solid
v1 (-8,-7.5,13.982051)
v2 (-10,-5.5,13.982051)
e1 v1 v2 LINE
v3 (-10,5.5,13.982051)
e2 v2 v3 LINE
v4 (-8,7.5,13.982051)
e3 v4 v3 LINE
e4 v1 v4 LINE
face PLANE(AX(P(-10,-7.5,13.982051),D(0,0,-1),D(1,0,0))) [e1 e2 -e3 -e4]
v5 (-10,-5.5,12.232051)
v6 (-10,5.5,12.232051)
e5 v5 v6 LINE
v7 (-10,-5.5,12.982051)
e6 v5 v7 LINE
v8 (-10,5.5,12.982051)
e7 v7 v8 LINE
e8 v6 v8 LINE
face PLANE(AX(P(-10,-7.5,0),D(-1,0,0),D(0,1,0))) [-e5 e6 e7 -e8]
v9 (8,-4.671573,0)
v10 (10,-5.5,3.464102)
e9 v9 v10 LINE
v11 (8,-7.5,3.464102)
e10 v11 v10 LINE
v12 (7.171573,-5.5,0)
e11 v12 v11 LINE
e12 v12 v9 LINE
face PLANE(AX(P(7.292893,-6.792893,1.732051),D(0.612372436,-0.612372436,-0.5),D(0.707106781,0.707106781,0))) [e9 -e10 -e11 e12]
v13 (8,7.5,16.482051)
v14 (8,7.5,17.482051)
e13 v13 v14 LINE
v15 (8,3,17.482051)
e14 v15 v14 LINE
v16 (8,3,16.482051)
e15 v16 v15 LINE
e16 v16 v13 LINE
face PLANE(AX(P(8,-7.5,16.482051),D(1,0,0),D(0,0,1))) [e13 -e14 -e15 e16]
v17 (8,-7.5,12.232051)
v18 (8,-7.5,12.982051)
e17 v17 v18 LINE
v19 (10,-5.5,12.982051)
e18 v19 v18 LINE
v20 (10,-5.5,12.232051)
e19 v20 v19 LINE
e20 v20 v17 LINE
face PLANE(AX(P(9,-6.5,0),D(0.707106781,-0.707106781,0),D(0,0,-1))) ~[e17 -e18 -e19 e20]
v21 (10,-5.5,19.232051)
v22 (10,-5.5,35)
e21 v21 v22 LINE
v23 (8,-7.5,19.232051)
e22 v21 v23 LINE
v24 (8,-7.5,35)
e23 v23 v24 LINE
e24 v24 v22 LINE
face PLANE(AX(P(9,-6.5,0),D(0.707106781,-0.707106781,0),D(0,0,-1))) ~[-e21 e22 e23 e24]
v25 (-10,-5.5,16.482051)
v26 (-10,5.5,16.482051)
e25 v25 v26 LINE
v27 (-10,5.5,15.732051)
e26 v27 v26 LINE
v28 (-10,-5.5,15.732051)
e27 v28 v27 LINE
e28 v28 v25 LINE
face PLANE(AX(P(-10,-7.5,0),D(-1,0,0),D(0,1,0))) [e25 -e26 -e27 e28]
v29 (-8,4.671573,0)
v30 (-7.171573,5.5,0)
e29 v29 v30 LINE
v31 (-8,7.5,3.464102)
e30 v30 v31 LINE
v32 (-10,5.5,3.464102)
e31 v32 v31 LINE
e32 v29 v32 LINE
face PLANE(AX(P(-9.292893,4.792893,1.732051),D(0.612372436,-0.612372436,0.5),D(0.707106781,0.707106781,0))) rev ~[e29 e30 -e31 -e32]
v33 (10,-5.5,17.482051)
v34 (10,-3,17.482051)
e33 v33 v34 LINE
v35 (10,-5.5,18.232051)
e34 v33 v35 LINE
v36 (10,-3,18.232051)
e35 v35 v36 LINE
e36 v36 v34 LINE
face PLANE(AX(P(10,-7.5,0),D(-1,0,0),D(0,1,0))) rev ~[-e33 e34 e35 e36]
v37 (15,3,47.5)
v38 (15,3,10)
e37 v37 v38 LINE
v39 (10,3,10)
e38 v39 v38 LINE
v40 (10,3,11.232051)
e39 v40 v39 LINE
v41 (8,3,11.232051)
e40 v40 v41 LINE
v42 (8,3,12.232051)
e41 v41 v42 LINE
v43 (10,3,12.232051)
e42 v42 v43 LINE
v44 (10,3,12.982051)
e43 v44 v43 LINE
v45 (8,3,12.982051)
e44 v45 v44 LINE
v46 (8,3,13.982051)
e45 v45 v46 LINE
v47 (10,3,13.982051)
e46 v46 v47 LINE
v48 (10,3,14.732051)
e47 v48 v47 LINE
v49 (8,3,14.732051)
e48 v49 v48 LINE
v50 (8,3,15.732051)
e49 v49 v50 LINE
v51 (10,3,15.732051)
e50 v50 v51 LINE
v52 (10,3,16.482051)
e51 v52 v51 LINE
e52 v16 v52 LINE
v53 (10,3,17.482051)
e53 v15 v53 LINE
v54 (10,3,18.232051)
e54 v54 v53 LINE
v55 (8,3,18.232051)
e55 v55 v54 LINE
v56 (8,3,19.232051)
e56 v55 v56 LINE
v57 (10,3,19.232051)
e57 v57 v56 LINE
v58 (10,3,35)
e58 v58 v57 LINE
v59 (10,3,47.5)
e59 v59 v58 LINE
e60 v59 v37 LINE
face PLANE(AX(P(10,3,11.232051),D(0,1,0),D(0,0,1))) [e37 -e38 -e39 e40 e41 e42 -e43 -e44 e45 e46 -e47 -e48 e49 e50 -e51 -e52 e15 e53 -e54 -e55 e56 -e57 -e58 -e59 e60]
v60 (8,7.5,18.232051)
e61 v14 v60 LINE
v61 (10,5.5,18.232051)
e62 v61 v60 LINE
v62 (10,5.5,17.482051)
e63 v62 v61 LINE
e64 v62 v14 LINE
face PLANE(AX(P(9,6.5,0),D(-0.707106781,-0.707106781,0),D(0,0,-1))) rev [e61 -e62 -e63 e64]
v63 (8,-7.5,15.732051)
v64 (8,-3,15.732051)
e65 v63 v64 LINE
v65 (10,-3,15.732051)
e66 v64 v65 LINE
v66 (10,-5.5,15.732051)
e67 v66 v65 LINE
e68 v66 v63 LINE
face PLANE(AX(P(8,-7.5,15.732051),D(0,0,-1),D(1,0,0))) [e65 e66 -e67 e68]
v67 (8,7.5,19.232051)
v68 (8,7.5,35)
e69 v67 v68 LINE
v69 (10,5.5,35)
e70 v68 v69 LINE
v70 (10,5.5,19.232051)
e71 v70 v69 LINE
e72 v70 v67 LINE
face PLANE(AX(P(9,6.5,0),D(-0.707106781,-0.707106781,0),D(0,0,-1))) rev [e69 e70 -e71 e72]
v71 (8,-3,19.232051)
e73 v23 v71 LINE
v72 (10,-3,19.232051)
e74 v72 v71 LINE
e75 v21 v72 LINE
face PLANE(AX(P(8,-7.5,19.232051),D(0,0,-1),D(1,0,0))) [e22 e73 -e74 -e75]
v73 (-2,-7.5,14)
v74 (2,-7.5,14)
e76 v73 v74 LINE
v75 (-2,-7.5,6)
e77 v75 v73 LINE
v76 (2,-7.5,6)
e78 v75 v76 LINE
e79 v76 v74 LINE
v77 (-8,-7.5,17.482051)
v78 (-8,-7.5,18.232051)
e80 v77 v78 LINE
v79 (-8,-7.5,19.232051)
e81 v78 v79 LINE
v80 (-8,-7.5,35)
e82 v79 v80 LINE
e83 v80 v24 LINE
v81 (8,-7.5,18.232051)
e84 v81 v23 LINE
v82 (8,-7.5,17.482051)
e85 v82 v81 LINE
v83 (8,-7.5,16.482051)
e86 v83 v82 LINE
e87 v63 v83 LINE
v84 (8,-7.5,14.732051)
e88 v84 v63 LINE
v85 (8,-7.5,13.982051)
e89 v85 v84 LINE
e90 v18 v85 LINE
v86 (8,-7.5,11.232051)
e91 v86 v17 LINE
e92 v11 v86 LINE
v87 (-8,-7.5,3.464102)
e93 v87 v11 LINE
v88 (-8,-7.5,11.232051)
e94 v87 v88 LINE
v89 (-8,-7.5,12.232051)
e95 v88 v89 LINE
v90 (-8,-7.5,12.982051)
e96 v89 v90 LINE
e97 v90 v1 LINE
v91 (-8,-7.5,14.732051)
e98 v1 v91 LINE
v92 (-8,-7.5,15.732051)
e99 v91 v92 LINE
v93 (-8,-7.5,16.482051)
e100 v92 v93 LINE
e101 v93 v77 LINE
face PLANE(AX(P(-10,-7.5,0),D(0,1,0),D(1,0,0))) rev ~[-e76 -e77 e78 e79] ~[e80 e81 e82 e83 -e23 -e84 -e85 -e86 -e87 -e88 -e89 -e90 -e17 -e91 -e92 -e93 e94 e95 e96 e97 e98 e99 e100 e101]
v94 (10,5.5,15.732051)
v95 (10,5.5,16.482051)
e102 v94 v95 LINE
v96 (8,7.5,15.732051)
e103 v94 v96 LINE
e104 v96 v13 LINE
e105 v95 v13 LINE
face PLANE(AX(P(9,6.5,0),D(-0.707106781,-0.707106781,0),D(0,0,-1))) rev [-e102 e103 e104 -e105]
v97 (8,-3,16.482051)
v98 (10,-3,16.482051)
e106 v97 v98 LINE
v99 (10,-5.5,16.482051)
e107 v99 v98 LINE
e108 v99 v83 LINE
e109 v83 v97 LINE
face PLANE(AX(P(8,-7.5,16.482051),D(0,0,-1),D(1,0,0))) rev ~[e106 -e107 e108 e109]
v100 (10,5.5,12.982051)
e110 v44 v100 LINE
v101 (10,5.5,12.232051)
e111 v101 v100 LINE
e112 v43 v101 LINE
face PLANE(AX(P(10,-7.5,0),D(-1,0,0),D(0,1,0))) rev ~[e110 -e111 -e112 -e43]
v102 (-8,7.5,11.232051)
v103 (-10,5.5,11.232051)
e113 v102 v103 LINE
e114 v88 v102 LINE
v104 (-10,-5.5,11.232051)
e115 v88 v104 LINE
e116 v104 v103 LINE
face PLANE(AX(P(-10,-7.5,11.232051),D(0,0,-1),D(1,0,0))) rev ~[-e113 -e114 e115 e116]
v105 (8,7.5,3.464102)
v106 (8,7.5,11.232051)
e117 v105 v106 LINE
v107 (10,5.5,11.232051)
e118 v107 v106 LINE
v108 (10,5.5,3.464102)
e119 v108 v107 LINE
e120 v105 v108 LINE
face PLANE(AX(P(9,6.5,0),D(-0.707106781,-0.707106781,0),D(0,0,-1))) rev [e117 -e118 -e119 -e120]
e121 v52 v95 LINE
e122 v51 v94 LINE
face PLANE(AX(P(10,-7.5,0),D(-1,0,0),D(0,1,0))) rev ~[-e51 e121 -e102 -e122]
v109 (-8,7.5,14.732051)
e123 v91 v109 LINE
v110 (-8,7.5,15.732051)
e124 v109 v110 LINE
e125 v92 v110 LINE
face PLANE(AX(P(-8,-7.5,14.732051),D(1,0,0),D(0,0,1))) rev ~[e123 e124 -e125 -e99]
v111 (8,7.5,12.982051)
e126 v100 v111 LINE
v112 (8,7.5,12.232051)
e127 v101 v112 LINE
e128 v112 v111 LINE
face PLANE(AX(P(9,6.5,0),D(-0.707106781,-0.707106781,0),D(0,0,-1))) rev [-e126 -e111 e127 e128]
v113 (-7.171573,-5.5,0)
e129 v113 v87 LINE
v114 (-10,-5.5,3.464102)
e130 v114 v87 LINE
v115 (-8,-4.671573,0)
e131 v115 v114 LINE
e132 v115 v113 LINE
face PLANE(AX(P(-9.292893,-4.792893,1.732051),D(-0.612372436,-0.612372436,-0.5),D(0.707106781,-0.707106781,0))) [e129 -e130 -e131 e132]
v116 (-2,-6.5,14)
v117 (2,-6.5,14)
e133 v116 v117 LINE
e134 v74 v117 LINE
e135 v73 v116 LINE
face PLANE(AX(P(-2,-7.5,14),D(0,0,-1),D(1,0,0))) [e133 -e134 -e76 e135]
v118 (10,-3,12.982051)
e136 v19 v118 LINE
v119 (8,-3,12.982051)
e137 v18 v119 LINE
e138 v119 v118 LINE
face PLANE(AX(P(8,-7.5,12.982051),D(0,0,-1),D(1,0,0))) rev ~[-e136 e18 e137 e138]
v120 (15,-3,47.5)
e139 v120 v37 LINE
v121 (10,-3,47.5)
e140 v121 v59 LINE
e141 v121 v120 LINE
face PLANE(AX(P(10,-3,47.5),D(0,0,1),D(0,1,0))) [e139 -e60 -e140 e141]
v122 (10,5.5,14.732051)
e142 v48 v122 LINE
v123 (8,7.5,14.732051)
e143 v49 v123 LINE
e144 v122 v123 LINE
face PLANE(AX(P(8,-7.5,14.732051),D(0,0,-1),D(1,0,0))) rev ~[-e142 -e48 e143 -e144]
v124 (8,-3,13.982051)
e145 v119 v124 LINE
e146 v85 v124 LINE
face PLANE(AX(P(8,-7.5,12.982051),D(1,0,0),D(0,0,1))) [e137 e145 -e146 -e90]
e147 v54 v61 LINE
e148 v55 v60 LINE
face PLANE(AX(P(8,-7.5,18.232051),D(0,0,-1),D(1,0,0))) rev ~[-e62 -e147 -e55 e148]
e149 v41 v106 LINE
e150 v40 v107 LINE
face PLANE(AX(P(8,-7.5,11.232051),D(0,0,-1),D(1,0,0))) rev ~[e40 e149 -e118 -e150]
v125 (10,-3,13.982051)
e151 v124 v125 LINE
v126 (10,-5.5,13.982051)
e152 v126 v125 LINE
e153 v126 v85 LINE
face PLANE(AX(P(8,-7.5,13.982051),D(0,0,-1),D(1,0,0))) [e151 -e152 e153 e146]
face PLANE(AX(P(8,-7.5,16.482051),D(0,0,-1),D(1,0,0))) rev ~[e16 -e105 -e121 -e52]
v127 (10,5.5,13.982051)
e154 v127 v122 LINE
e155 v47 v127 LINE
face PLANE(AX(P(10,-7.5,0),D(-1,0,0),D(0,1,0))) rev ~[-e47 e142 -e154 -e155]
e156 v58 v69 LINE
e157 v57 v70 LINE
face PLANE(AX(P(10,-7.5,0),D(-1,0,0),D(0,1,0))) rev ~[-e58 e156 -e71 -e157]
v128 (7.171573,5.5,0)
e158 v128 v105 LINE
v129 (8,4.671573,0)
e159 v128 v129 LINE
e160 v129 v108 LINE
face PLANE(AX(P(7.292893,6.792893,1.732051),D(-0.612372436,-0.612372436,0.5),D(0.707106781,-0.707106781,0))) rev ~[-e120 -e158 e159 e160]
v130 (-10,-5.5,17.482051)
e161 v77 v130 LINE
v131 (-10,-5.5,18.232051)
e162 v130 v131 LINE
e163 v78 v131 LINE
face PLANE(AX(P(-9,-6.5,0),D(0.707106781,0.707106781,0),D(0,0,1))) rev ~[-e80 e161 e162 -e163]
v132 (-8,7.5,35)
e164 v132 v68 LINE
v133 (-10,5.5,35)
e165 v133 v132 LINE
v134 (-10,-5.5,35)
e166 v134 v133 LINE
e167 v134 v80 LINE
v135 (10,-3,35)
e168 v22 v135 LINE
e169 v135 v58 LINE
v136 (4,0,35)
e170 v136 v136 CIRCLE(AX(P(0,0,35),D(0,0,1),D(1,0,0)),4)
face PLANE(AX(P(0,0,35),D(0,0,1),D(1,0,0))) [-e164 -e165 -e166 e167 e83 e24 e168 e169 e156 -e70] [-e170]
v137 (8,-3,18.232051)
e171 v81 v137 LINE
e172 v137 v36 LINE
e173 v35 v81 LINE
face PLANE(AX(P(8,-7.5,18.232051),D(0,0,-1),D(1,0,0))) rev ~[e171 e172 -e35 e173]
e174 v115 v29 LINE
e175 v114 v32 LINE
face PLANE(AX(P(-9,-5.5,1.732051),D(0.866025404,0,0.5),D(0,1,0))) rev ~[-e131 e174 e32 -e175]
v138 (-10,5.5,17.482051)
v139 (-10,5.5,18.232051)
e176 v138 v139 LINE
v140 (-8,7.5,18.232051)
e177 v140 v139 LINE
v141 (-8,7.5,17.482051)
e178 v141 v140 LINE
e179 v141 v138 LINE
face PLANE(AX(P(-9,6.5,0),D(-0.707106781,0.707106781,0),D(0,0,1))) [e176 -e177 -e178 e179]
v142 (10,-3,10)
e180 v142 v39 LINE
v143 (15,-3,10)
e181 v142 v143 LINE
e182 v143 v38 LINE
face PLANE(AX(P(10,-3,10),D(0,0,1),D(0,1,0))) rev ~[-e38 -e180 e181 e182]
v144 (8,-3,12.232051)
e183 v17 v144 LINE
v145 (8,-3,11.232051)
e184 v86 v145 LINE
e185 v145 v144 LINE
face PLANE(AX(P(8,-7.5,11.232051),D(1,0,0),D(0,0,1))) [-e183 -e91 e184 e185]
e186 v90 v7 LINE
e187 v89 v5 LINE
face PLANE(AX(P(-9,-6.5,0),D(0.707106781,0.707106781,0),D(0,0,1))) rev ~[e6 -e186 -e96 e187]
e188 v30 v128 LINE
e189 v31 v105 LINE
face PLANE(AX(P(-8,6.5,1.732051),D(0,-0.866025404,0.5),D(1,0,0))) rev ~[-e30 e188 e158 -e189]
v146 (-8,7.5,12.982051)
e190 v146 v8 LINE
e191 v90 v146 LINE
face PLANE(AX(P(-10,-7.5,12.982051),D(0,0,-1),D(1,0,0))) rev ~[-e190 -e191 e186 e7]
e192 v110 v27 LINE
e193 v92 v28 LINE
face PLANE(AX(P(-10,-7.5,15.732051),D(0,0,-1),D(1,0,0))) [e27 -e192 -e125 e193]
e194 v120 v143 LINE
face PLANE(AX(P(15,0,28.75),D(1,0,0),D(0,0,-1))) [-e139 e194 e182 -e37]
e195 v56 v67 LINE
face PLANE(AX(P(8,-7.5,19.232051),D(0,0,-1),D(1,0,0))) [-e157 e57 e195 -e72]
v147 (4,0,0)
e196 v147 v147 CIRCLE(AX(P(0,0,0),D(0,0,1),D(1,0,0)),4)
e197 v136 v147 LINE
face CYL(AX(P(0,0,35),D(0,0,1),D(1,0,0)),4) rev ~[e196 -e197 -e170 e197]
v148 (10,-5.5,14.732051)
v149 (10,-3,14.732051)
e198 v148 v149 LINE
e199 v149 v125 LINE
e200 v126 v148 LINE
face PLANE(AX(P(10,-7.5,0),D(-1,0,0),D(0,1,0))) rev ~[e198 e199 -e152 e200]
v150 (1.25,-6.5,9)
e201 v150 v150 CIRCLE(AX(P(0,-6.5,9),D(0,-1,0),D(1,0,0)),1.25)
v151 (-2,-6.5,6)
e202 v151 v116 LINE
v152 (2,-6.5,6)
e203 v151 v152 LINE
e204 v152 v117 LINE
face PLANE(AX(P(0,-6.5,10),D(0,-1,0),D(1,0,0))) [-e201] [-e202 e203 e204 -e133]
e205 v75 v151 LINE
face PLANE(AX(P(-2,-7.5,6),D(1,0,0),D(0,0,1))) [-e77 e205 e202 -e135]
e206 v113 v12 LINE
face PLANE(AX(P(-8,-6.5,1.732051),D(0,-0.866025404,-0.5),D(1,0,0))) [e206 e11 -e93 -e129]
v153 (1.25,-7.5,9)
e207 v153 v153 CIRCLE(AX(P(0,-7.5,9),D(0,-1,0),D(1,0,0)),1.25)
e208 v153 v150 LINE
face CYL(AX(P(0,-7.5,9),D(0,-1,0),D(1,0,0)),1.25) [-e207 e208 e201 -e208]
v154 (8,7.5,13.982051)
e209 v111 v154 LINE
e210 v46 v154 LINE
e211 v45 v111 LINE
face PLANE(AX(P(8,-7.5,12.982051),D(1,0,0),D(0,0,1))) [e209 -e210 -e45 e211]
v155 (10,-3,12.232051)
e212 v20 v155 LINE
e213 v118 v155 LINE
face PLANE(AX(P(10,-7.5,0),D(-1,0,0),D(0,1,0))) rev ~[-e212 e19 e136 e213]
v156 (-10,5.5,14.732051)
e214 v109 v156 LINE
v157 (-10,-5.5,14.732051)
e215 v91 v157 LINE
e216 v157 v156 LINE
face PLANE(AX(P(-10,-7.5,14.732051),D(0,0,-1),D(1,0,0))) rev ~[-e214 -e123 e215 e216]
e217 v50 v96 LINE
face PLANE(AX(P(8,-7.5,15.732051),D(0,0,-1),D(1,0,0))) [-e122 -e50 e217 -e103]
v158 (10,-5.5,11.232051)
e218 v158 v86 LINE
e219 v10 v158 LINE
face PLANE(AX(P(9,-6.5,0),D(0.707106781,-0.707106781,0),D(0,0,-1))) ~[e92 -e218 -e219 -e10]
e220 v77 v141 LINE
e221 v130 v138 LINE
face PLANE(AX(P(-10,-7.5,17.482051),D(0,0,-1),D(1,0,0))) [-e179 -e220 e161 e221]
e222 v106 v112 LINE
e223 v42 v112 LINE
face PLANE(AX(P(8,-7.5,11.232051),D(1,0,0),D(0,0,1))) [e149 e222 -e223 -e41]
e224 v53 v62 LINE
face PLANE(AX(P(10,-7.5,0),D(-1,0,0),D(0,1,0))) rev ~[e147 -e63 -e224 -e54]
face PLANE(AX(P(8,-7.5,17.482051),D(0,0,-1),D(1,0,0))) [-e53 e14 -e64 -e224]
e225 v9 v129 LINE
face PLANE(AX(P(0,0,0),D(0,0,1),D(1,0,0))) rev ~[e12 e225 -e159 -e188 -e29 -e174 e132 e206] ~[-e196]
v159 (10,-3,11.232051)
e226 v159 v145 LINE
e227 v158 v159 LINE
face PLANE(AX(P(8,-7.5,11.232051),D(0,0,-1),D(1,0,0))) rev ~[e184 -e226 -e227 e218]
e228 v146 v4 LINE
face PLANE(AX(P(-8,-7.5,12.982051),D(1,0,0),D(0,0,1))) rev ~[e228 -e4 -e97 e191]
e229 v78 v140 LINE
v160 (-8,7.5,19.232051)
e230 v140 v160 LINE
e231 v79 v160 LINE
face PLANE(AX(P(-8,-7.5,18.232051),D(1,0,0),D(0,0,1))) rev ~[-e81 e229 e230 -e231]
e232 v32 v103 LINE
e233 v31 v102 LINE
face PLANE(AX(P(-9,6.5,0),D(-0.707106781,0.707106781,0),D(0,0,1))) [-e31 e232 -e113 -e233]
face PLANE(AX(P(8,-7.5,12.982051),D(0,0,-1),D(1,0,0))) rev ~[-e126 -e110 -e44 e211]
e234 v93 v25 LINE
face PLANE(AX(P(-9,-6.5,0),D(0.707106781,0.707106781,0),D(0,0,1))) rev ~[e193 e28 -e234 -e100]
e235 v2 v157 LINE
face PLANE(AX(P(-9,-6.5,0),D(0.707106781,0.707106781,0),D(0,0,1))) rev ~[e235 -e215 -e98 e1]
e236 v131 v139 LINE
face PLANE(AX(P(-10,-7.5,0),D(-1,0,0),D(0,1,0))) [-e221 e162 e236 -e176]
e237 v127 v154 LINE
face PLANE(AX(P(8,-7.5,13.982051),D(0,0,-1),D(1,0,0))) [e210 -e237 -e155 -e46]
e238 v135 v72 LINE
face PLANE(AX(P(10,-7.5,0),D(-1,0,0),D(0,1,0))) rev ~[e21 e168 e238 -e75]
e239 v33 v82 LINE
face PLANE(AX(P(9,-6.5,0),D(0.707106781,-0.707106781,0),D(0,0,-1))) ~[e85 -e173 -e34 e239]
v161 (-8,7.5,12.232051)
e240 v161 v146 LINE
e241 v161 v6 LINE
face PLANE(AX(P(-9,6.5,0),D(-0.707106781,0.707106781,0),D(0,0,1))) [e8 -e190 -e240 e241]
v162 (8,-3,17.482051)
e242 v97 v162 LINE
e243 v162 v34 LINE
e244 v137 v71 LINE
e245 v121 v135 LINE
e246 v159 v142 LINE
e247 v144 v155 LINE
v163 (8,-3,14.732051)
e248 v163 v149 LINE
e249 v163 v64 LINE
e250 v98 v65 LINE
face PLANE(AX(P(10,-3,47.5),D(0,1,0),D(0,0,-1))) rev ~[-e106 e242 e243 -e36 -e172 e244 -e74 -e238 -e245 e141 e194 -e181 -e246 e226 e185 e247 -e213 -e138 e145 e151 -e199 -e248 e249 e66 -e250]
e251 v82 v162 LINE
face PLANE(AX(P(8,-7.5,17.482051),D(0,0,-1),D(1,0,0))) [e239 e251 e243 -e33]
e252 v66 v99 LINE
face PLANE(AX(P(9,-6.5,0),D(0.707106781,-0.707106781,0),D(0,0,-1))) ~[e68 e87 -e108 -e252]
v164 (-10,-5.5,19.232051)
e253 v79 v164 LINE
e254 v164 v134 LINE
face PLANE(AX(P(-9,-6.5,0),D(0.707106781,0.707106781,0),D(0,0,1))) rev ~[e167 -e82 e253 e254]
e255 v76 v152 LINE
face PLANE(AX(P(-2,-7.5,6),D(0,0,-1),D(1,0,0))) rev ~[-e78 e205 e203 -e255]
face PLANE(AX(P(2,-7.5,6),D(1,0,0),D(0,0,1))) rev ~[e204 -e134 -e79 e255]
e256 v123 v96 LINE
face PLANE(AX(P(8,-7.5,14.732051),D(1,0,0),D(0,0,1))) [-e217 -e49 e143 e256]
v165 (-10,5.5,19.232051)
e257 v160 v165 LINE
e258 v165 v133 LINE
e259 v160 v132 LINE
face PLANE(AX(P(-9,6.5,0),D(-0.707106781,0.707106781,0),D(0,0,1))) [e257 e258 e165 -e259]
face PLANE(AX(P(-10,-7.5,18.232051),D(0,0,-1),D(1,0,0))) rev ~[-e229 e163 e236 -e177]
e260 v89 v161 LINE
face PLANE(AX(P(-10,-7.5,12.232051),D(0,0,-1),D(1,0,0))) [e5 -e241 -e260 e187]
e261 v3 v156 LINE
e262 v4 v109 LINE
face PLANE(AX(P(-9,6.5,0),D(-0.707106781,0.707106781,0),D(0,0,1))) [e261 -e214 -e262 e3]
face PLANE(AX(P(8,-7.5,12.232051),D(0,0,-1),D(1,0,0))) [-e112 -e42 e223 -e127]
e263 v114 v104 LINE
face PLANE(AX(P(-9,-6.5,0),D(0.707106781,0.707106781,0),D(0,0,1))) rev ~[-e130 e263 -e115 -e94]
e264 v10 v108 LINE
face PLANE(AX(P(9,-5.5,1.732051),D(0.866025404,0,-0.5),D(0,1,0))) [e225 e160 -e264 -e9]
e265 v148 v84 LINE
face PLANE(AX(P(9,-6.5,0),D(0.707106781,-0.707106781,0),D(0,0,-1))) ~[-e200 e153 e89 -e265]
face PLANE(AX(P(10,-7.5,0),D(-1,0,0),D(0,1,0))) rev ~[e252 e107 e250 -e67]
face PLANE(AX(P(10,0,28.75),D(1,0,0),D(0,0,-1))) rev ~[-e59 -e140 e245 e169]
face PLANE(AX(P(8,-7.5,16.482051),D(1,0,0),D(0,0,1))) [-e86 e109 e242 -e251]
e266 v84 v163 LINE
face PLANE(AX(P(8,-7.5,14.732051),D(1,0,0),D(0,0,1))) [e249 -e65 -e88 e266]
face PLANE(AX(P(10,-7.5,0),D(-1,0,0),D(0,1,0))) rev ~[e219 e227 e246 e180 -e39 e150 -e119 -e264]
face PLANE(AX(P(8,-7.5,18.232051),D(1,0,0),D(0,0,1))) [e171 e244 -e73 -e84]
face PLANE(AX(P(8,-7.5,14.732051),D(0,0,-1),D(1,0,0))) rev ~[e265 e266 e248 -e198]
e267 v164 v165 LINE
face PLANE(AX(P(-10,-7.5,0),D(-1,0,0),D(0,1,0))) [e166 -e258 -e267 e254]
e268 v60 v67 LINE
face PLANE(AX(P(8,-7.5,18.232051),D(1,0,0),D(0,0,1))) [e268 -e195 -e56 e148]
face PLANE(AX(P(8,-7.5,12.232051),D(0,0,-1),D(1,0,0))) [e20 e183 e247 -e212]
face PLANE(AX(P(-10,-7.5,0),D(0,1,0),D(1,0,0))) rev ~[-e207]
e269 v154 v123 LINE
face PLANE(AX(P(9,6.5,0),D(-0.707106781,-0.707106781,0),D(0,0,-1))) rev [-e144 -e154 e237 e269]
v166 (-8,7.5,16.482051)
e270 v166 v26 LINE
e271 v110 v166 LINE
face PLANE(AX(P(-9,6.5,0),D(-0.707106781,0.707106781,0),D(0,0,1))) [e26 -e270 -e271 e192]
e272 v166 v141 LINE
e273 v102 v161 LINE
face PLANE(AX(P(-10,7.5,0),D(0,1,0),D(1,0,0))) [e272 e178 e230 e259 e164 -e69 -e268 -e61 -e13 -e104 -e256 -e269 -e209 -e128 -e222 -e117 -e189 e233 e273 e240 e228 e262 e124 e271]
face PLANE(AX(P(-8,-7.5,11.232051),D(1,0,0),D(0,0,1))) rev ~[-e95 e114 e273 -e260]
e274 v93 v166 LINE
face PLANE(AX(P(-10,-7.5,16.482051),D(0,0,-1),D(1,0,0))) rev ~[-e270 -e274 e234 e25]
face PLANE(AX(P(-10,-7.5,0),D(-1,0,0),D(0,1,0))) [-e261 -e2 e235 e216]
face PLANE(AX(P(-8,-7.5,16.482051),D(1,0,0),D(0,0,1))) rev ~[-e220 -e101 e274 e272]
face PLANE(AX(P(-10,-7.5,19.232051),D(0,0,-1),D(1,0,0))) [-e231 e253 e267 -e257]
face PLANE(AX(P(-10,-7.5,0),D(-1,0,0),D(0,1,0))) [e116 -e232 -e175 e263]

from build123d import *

# Parameters (mm, degrees)
SKETCH1_W           = 20
SKETCH1_H           = 15
BOSS_EXTRUDE1_DEPTH = 35
SKETCH2_R           = 4
CUT_EXTRUDE1_DEPTH  = 36
CHAMFER1_SIZE       = 2
CHAMFER2_SIZE       = 2
CHAMFER2_SIZE2      = 3.464101615
SKETCH4_W           = 2
SKETCH4_H           = 1
CUT_EXTRUDE2_DEPTH  = 16
SKETCH5_W           = 4
SKETCH5_H           = 8
SKETCH5_R           = 1.25
CUT_EXTRUDE3_DEPTH  = 1
SKETCH3_W           = 37.5
SKETCH3_H           = 6
BOSS_EXTRUDE2_DEPTH = 5
SKETCH6_W           = 8
SKETCH6_H           = 6
BOSS_EXTRUDE3_DEPTH = 2


with BuildPart() as part:
    # Sketch1 → Boss-Extrude1 (new body)
    with BuildSketch(Plane.XY):
        Rectangle(SKETCH1_W, SKETCH1_H)
    extrude(amount=BOSS_EXTRUDE1_DEPTH)

    # Sketch2 → Cut-Extrude1 (cut, through all)
    with BuildSketch(Plane.XY.offset(35)):
        Circle(SKETCH2_R)
    extrude(amount=-CUT_EXTRUDE1_DEPTH, mode=Mode.SUBTRACT)

    # Chamfer1
    chamfer1_edges = [part.edges().sort_by_distance(p)[0] for p in [
        (10, 7.5, 17.5),
        (10, -7.5, 17.5),
        (-10, -7.5, 17.5),
        (-10, 7.5, 17.5),
    ]]
    chamfer(chamfer1_edges, length=CHAMFER1_SIZE)

    # Chamfer2
    chamfer2_edges = [part.edges().sort_by_distance(p)[0] for p in [
        (-10, 0, 0),
        (0, 7.5, 0),
        (10, 0, 0),
        (0, -7.5, 0),
        (9, 6.5, 0),
        (9, -6.5, 0),
        (-9, -6.5, 0),
        (-9, 6.5, 0),
    ]]
    chamfer2_side = [part.faces().sort_by_distance(p)[0] for p in [
        (-9.75, 0, 0),
    ]]
    chamfer(chamfer2_edges, length=CHAMFER2_SIZE, length2=CHAMFER2_SIZE2, reference=chamfer2_side[0])

    # Sketch4 → Cut-Extrude2 (cut, through all)
    with BuildSketch(Plane.XZ.offset(7.5)):
        with Locations((-9, 11.732050808)):
            Rectangle(SKETCH4_W, SKETCH4_H)
        with Locations((-9, 13.482050808)):
            Rectangle(SKETCH4_W, SKETCH4_H)
        with Locations((-9, 15.232050808)):
            Rectangle(SKETCH4_W, SKETCH4_H)
        with Locations((-9, 16.982050808)):
            Rectangle(SKETCH4_W, SKETCH4_H)
        with Locations((-9, 18.732050808)):
            Rectangle(SKETCH4_W, SKETCH4_H)
        with Locations((9, 18.732050808)):
            Rectangle(SKETCH4_W, SKETCH4_H)
        with Locations((9, 16.982050808)):
            Rectangle(SKETCH4_W, SKETCH4_H)
        with Locations((9, 15.232050808)):
            Rectangle(SKETCH4_W, SKETCH4_H)
        with Locations((9, 13.482050808)):
            Rectangle(SKETCH4_W, SKETCH4_H)
        with Locations((9, 11.732050808)):
            Rectangle(SKETCH4_W, SKETCH4_H)
    extrude(amount=-CUT_EXTRUDE2_DEPTH, mode=Mode.SUBTRACT)

    # Sketch5 → Cut-Extrude3 (cut)
    with BuildSketch(Plane.XZ.offset(7.5)):
        with Locations((0, 10)):
            Rectangle(SKETCH5_W, SKETCH5_H)
        with Locations((0, 9)):
            Circle(SKETCH5_R, mode=Mode.SUBTRACT)
    extrude(amount=-CUT_EXTRUDE3_DEPTH, mode=Mode.SUBTRACT)

    # Sketch3 → Boss-Extrude2 (add)
    with BuildSketch(Plane(origin=(10, 0, 0), x_dir=(0, 0, -1), z_dir=(1, 0, 0))):
        with Locations((-28.75, 0)):
            Rectangle(SKETCH3_W, SKETCH3_H)
    extrude(amount=BOSS_EXTRUDE2_DEPTH)

    # Sketch6 → Boss-Extrude3 (add)
    with BuildSketch(Plane.ZY.offset(-10)):
        with Locations((15.232050808, 0)):
            Rectangle(SKETCH6_W, SKETCH6_H)
    extrude(amount=BOSS_EXTRUDE3_DEPTH)


solid = part.part
